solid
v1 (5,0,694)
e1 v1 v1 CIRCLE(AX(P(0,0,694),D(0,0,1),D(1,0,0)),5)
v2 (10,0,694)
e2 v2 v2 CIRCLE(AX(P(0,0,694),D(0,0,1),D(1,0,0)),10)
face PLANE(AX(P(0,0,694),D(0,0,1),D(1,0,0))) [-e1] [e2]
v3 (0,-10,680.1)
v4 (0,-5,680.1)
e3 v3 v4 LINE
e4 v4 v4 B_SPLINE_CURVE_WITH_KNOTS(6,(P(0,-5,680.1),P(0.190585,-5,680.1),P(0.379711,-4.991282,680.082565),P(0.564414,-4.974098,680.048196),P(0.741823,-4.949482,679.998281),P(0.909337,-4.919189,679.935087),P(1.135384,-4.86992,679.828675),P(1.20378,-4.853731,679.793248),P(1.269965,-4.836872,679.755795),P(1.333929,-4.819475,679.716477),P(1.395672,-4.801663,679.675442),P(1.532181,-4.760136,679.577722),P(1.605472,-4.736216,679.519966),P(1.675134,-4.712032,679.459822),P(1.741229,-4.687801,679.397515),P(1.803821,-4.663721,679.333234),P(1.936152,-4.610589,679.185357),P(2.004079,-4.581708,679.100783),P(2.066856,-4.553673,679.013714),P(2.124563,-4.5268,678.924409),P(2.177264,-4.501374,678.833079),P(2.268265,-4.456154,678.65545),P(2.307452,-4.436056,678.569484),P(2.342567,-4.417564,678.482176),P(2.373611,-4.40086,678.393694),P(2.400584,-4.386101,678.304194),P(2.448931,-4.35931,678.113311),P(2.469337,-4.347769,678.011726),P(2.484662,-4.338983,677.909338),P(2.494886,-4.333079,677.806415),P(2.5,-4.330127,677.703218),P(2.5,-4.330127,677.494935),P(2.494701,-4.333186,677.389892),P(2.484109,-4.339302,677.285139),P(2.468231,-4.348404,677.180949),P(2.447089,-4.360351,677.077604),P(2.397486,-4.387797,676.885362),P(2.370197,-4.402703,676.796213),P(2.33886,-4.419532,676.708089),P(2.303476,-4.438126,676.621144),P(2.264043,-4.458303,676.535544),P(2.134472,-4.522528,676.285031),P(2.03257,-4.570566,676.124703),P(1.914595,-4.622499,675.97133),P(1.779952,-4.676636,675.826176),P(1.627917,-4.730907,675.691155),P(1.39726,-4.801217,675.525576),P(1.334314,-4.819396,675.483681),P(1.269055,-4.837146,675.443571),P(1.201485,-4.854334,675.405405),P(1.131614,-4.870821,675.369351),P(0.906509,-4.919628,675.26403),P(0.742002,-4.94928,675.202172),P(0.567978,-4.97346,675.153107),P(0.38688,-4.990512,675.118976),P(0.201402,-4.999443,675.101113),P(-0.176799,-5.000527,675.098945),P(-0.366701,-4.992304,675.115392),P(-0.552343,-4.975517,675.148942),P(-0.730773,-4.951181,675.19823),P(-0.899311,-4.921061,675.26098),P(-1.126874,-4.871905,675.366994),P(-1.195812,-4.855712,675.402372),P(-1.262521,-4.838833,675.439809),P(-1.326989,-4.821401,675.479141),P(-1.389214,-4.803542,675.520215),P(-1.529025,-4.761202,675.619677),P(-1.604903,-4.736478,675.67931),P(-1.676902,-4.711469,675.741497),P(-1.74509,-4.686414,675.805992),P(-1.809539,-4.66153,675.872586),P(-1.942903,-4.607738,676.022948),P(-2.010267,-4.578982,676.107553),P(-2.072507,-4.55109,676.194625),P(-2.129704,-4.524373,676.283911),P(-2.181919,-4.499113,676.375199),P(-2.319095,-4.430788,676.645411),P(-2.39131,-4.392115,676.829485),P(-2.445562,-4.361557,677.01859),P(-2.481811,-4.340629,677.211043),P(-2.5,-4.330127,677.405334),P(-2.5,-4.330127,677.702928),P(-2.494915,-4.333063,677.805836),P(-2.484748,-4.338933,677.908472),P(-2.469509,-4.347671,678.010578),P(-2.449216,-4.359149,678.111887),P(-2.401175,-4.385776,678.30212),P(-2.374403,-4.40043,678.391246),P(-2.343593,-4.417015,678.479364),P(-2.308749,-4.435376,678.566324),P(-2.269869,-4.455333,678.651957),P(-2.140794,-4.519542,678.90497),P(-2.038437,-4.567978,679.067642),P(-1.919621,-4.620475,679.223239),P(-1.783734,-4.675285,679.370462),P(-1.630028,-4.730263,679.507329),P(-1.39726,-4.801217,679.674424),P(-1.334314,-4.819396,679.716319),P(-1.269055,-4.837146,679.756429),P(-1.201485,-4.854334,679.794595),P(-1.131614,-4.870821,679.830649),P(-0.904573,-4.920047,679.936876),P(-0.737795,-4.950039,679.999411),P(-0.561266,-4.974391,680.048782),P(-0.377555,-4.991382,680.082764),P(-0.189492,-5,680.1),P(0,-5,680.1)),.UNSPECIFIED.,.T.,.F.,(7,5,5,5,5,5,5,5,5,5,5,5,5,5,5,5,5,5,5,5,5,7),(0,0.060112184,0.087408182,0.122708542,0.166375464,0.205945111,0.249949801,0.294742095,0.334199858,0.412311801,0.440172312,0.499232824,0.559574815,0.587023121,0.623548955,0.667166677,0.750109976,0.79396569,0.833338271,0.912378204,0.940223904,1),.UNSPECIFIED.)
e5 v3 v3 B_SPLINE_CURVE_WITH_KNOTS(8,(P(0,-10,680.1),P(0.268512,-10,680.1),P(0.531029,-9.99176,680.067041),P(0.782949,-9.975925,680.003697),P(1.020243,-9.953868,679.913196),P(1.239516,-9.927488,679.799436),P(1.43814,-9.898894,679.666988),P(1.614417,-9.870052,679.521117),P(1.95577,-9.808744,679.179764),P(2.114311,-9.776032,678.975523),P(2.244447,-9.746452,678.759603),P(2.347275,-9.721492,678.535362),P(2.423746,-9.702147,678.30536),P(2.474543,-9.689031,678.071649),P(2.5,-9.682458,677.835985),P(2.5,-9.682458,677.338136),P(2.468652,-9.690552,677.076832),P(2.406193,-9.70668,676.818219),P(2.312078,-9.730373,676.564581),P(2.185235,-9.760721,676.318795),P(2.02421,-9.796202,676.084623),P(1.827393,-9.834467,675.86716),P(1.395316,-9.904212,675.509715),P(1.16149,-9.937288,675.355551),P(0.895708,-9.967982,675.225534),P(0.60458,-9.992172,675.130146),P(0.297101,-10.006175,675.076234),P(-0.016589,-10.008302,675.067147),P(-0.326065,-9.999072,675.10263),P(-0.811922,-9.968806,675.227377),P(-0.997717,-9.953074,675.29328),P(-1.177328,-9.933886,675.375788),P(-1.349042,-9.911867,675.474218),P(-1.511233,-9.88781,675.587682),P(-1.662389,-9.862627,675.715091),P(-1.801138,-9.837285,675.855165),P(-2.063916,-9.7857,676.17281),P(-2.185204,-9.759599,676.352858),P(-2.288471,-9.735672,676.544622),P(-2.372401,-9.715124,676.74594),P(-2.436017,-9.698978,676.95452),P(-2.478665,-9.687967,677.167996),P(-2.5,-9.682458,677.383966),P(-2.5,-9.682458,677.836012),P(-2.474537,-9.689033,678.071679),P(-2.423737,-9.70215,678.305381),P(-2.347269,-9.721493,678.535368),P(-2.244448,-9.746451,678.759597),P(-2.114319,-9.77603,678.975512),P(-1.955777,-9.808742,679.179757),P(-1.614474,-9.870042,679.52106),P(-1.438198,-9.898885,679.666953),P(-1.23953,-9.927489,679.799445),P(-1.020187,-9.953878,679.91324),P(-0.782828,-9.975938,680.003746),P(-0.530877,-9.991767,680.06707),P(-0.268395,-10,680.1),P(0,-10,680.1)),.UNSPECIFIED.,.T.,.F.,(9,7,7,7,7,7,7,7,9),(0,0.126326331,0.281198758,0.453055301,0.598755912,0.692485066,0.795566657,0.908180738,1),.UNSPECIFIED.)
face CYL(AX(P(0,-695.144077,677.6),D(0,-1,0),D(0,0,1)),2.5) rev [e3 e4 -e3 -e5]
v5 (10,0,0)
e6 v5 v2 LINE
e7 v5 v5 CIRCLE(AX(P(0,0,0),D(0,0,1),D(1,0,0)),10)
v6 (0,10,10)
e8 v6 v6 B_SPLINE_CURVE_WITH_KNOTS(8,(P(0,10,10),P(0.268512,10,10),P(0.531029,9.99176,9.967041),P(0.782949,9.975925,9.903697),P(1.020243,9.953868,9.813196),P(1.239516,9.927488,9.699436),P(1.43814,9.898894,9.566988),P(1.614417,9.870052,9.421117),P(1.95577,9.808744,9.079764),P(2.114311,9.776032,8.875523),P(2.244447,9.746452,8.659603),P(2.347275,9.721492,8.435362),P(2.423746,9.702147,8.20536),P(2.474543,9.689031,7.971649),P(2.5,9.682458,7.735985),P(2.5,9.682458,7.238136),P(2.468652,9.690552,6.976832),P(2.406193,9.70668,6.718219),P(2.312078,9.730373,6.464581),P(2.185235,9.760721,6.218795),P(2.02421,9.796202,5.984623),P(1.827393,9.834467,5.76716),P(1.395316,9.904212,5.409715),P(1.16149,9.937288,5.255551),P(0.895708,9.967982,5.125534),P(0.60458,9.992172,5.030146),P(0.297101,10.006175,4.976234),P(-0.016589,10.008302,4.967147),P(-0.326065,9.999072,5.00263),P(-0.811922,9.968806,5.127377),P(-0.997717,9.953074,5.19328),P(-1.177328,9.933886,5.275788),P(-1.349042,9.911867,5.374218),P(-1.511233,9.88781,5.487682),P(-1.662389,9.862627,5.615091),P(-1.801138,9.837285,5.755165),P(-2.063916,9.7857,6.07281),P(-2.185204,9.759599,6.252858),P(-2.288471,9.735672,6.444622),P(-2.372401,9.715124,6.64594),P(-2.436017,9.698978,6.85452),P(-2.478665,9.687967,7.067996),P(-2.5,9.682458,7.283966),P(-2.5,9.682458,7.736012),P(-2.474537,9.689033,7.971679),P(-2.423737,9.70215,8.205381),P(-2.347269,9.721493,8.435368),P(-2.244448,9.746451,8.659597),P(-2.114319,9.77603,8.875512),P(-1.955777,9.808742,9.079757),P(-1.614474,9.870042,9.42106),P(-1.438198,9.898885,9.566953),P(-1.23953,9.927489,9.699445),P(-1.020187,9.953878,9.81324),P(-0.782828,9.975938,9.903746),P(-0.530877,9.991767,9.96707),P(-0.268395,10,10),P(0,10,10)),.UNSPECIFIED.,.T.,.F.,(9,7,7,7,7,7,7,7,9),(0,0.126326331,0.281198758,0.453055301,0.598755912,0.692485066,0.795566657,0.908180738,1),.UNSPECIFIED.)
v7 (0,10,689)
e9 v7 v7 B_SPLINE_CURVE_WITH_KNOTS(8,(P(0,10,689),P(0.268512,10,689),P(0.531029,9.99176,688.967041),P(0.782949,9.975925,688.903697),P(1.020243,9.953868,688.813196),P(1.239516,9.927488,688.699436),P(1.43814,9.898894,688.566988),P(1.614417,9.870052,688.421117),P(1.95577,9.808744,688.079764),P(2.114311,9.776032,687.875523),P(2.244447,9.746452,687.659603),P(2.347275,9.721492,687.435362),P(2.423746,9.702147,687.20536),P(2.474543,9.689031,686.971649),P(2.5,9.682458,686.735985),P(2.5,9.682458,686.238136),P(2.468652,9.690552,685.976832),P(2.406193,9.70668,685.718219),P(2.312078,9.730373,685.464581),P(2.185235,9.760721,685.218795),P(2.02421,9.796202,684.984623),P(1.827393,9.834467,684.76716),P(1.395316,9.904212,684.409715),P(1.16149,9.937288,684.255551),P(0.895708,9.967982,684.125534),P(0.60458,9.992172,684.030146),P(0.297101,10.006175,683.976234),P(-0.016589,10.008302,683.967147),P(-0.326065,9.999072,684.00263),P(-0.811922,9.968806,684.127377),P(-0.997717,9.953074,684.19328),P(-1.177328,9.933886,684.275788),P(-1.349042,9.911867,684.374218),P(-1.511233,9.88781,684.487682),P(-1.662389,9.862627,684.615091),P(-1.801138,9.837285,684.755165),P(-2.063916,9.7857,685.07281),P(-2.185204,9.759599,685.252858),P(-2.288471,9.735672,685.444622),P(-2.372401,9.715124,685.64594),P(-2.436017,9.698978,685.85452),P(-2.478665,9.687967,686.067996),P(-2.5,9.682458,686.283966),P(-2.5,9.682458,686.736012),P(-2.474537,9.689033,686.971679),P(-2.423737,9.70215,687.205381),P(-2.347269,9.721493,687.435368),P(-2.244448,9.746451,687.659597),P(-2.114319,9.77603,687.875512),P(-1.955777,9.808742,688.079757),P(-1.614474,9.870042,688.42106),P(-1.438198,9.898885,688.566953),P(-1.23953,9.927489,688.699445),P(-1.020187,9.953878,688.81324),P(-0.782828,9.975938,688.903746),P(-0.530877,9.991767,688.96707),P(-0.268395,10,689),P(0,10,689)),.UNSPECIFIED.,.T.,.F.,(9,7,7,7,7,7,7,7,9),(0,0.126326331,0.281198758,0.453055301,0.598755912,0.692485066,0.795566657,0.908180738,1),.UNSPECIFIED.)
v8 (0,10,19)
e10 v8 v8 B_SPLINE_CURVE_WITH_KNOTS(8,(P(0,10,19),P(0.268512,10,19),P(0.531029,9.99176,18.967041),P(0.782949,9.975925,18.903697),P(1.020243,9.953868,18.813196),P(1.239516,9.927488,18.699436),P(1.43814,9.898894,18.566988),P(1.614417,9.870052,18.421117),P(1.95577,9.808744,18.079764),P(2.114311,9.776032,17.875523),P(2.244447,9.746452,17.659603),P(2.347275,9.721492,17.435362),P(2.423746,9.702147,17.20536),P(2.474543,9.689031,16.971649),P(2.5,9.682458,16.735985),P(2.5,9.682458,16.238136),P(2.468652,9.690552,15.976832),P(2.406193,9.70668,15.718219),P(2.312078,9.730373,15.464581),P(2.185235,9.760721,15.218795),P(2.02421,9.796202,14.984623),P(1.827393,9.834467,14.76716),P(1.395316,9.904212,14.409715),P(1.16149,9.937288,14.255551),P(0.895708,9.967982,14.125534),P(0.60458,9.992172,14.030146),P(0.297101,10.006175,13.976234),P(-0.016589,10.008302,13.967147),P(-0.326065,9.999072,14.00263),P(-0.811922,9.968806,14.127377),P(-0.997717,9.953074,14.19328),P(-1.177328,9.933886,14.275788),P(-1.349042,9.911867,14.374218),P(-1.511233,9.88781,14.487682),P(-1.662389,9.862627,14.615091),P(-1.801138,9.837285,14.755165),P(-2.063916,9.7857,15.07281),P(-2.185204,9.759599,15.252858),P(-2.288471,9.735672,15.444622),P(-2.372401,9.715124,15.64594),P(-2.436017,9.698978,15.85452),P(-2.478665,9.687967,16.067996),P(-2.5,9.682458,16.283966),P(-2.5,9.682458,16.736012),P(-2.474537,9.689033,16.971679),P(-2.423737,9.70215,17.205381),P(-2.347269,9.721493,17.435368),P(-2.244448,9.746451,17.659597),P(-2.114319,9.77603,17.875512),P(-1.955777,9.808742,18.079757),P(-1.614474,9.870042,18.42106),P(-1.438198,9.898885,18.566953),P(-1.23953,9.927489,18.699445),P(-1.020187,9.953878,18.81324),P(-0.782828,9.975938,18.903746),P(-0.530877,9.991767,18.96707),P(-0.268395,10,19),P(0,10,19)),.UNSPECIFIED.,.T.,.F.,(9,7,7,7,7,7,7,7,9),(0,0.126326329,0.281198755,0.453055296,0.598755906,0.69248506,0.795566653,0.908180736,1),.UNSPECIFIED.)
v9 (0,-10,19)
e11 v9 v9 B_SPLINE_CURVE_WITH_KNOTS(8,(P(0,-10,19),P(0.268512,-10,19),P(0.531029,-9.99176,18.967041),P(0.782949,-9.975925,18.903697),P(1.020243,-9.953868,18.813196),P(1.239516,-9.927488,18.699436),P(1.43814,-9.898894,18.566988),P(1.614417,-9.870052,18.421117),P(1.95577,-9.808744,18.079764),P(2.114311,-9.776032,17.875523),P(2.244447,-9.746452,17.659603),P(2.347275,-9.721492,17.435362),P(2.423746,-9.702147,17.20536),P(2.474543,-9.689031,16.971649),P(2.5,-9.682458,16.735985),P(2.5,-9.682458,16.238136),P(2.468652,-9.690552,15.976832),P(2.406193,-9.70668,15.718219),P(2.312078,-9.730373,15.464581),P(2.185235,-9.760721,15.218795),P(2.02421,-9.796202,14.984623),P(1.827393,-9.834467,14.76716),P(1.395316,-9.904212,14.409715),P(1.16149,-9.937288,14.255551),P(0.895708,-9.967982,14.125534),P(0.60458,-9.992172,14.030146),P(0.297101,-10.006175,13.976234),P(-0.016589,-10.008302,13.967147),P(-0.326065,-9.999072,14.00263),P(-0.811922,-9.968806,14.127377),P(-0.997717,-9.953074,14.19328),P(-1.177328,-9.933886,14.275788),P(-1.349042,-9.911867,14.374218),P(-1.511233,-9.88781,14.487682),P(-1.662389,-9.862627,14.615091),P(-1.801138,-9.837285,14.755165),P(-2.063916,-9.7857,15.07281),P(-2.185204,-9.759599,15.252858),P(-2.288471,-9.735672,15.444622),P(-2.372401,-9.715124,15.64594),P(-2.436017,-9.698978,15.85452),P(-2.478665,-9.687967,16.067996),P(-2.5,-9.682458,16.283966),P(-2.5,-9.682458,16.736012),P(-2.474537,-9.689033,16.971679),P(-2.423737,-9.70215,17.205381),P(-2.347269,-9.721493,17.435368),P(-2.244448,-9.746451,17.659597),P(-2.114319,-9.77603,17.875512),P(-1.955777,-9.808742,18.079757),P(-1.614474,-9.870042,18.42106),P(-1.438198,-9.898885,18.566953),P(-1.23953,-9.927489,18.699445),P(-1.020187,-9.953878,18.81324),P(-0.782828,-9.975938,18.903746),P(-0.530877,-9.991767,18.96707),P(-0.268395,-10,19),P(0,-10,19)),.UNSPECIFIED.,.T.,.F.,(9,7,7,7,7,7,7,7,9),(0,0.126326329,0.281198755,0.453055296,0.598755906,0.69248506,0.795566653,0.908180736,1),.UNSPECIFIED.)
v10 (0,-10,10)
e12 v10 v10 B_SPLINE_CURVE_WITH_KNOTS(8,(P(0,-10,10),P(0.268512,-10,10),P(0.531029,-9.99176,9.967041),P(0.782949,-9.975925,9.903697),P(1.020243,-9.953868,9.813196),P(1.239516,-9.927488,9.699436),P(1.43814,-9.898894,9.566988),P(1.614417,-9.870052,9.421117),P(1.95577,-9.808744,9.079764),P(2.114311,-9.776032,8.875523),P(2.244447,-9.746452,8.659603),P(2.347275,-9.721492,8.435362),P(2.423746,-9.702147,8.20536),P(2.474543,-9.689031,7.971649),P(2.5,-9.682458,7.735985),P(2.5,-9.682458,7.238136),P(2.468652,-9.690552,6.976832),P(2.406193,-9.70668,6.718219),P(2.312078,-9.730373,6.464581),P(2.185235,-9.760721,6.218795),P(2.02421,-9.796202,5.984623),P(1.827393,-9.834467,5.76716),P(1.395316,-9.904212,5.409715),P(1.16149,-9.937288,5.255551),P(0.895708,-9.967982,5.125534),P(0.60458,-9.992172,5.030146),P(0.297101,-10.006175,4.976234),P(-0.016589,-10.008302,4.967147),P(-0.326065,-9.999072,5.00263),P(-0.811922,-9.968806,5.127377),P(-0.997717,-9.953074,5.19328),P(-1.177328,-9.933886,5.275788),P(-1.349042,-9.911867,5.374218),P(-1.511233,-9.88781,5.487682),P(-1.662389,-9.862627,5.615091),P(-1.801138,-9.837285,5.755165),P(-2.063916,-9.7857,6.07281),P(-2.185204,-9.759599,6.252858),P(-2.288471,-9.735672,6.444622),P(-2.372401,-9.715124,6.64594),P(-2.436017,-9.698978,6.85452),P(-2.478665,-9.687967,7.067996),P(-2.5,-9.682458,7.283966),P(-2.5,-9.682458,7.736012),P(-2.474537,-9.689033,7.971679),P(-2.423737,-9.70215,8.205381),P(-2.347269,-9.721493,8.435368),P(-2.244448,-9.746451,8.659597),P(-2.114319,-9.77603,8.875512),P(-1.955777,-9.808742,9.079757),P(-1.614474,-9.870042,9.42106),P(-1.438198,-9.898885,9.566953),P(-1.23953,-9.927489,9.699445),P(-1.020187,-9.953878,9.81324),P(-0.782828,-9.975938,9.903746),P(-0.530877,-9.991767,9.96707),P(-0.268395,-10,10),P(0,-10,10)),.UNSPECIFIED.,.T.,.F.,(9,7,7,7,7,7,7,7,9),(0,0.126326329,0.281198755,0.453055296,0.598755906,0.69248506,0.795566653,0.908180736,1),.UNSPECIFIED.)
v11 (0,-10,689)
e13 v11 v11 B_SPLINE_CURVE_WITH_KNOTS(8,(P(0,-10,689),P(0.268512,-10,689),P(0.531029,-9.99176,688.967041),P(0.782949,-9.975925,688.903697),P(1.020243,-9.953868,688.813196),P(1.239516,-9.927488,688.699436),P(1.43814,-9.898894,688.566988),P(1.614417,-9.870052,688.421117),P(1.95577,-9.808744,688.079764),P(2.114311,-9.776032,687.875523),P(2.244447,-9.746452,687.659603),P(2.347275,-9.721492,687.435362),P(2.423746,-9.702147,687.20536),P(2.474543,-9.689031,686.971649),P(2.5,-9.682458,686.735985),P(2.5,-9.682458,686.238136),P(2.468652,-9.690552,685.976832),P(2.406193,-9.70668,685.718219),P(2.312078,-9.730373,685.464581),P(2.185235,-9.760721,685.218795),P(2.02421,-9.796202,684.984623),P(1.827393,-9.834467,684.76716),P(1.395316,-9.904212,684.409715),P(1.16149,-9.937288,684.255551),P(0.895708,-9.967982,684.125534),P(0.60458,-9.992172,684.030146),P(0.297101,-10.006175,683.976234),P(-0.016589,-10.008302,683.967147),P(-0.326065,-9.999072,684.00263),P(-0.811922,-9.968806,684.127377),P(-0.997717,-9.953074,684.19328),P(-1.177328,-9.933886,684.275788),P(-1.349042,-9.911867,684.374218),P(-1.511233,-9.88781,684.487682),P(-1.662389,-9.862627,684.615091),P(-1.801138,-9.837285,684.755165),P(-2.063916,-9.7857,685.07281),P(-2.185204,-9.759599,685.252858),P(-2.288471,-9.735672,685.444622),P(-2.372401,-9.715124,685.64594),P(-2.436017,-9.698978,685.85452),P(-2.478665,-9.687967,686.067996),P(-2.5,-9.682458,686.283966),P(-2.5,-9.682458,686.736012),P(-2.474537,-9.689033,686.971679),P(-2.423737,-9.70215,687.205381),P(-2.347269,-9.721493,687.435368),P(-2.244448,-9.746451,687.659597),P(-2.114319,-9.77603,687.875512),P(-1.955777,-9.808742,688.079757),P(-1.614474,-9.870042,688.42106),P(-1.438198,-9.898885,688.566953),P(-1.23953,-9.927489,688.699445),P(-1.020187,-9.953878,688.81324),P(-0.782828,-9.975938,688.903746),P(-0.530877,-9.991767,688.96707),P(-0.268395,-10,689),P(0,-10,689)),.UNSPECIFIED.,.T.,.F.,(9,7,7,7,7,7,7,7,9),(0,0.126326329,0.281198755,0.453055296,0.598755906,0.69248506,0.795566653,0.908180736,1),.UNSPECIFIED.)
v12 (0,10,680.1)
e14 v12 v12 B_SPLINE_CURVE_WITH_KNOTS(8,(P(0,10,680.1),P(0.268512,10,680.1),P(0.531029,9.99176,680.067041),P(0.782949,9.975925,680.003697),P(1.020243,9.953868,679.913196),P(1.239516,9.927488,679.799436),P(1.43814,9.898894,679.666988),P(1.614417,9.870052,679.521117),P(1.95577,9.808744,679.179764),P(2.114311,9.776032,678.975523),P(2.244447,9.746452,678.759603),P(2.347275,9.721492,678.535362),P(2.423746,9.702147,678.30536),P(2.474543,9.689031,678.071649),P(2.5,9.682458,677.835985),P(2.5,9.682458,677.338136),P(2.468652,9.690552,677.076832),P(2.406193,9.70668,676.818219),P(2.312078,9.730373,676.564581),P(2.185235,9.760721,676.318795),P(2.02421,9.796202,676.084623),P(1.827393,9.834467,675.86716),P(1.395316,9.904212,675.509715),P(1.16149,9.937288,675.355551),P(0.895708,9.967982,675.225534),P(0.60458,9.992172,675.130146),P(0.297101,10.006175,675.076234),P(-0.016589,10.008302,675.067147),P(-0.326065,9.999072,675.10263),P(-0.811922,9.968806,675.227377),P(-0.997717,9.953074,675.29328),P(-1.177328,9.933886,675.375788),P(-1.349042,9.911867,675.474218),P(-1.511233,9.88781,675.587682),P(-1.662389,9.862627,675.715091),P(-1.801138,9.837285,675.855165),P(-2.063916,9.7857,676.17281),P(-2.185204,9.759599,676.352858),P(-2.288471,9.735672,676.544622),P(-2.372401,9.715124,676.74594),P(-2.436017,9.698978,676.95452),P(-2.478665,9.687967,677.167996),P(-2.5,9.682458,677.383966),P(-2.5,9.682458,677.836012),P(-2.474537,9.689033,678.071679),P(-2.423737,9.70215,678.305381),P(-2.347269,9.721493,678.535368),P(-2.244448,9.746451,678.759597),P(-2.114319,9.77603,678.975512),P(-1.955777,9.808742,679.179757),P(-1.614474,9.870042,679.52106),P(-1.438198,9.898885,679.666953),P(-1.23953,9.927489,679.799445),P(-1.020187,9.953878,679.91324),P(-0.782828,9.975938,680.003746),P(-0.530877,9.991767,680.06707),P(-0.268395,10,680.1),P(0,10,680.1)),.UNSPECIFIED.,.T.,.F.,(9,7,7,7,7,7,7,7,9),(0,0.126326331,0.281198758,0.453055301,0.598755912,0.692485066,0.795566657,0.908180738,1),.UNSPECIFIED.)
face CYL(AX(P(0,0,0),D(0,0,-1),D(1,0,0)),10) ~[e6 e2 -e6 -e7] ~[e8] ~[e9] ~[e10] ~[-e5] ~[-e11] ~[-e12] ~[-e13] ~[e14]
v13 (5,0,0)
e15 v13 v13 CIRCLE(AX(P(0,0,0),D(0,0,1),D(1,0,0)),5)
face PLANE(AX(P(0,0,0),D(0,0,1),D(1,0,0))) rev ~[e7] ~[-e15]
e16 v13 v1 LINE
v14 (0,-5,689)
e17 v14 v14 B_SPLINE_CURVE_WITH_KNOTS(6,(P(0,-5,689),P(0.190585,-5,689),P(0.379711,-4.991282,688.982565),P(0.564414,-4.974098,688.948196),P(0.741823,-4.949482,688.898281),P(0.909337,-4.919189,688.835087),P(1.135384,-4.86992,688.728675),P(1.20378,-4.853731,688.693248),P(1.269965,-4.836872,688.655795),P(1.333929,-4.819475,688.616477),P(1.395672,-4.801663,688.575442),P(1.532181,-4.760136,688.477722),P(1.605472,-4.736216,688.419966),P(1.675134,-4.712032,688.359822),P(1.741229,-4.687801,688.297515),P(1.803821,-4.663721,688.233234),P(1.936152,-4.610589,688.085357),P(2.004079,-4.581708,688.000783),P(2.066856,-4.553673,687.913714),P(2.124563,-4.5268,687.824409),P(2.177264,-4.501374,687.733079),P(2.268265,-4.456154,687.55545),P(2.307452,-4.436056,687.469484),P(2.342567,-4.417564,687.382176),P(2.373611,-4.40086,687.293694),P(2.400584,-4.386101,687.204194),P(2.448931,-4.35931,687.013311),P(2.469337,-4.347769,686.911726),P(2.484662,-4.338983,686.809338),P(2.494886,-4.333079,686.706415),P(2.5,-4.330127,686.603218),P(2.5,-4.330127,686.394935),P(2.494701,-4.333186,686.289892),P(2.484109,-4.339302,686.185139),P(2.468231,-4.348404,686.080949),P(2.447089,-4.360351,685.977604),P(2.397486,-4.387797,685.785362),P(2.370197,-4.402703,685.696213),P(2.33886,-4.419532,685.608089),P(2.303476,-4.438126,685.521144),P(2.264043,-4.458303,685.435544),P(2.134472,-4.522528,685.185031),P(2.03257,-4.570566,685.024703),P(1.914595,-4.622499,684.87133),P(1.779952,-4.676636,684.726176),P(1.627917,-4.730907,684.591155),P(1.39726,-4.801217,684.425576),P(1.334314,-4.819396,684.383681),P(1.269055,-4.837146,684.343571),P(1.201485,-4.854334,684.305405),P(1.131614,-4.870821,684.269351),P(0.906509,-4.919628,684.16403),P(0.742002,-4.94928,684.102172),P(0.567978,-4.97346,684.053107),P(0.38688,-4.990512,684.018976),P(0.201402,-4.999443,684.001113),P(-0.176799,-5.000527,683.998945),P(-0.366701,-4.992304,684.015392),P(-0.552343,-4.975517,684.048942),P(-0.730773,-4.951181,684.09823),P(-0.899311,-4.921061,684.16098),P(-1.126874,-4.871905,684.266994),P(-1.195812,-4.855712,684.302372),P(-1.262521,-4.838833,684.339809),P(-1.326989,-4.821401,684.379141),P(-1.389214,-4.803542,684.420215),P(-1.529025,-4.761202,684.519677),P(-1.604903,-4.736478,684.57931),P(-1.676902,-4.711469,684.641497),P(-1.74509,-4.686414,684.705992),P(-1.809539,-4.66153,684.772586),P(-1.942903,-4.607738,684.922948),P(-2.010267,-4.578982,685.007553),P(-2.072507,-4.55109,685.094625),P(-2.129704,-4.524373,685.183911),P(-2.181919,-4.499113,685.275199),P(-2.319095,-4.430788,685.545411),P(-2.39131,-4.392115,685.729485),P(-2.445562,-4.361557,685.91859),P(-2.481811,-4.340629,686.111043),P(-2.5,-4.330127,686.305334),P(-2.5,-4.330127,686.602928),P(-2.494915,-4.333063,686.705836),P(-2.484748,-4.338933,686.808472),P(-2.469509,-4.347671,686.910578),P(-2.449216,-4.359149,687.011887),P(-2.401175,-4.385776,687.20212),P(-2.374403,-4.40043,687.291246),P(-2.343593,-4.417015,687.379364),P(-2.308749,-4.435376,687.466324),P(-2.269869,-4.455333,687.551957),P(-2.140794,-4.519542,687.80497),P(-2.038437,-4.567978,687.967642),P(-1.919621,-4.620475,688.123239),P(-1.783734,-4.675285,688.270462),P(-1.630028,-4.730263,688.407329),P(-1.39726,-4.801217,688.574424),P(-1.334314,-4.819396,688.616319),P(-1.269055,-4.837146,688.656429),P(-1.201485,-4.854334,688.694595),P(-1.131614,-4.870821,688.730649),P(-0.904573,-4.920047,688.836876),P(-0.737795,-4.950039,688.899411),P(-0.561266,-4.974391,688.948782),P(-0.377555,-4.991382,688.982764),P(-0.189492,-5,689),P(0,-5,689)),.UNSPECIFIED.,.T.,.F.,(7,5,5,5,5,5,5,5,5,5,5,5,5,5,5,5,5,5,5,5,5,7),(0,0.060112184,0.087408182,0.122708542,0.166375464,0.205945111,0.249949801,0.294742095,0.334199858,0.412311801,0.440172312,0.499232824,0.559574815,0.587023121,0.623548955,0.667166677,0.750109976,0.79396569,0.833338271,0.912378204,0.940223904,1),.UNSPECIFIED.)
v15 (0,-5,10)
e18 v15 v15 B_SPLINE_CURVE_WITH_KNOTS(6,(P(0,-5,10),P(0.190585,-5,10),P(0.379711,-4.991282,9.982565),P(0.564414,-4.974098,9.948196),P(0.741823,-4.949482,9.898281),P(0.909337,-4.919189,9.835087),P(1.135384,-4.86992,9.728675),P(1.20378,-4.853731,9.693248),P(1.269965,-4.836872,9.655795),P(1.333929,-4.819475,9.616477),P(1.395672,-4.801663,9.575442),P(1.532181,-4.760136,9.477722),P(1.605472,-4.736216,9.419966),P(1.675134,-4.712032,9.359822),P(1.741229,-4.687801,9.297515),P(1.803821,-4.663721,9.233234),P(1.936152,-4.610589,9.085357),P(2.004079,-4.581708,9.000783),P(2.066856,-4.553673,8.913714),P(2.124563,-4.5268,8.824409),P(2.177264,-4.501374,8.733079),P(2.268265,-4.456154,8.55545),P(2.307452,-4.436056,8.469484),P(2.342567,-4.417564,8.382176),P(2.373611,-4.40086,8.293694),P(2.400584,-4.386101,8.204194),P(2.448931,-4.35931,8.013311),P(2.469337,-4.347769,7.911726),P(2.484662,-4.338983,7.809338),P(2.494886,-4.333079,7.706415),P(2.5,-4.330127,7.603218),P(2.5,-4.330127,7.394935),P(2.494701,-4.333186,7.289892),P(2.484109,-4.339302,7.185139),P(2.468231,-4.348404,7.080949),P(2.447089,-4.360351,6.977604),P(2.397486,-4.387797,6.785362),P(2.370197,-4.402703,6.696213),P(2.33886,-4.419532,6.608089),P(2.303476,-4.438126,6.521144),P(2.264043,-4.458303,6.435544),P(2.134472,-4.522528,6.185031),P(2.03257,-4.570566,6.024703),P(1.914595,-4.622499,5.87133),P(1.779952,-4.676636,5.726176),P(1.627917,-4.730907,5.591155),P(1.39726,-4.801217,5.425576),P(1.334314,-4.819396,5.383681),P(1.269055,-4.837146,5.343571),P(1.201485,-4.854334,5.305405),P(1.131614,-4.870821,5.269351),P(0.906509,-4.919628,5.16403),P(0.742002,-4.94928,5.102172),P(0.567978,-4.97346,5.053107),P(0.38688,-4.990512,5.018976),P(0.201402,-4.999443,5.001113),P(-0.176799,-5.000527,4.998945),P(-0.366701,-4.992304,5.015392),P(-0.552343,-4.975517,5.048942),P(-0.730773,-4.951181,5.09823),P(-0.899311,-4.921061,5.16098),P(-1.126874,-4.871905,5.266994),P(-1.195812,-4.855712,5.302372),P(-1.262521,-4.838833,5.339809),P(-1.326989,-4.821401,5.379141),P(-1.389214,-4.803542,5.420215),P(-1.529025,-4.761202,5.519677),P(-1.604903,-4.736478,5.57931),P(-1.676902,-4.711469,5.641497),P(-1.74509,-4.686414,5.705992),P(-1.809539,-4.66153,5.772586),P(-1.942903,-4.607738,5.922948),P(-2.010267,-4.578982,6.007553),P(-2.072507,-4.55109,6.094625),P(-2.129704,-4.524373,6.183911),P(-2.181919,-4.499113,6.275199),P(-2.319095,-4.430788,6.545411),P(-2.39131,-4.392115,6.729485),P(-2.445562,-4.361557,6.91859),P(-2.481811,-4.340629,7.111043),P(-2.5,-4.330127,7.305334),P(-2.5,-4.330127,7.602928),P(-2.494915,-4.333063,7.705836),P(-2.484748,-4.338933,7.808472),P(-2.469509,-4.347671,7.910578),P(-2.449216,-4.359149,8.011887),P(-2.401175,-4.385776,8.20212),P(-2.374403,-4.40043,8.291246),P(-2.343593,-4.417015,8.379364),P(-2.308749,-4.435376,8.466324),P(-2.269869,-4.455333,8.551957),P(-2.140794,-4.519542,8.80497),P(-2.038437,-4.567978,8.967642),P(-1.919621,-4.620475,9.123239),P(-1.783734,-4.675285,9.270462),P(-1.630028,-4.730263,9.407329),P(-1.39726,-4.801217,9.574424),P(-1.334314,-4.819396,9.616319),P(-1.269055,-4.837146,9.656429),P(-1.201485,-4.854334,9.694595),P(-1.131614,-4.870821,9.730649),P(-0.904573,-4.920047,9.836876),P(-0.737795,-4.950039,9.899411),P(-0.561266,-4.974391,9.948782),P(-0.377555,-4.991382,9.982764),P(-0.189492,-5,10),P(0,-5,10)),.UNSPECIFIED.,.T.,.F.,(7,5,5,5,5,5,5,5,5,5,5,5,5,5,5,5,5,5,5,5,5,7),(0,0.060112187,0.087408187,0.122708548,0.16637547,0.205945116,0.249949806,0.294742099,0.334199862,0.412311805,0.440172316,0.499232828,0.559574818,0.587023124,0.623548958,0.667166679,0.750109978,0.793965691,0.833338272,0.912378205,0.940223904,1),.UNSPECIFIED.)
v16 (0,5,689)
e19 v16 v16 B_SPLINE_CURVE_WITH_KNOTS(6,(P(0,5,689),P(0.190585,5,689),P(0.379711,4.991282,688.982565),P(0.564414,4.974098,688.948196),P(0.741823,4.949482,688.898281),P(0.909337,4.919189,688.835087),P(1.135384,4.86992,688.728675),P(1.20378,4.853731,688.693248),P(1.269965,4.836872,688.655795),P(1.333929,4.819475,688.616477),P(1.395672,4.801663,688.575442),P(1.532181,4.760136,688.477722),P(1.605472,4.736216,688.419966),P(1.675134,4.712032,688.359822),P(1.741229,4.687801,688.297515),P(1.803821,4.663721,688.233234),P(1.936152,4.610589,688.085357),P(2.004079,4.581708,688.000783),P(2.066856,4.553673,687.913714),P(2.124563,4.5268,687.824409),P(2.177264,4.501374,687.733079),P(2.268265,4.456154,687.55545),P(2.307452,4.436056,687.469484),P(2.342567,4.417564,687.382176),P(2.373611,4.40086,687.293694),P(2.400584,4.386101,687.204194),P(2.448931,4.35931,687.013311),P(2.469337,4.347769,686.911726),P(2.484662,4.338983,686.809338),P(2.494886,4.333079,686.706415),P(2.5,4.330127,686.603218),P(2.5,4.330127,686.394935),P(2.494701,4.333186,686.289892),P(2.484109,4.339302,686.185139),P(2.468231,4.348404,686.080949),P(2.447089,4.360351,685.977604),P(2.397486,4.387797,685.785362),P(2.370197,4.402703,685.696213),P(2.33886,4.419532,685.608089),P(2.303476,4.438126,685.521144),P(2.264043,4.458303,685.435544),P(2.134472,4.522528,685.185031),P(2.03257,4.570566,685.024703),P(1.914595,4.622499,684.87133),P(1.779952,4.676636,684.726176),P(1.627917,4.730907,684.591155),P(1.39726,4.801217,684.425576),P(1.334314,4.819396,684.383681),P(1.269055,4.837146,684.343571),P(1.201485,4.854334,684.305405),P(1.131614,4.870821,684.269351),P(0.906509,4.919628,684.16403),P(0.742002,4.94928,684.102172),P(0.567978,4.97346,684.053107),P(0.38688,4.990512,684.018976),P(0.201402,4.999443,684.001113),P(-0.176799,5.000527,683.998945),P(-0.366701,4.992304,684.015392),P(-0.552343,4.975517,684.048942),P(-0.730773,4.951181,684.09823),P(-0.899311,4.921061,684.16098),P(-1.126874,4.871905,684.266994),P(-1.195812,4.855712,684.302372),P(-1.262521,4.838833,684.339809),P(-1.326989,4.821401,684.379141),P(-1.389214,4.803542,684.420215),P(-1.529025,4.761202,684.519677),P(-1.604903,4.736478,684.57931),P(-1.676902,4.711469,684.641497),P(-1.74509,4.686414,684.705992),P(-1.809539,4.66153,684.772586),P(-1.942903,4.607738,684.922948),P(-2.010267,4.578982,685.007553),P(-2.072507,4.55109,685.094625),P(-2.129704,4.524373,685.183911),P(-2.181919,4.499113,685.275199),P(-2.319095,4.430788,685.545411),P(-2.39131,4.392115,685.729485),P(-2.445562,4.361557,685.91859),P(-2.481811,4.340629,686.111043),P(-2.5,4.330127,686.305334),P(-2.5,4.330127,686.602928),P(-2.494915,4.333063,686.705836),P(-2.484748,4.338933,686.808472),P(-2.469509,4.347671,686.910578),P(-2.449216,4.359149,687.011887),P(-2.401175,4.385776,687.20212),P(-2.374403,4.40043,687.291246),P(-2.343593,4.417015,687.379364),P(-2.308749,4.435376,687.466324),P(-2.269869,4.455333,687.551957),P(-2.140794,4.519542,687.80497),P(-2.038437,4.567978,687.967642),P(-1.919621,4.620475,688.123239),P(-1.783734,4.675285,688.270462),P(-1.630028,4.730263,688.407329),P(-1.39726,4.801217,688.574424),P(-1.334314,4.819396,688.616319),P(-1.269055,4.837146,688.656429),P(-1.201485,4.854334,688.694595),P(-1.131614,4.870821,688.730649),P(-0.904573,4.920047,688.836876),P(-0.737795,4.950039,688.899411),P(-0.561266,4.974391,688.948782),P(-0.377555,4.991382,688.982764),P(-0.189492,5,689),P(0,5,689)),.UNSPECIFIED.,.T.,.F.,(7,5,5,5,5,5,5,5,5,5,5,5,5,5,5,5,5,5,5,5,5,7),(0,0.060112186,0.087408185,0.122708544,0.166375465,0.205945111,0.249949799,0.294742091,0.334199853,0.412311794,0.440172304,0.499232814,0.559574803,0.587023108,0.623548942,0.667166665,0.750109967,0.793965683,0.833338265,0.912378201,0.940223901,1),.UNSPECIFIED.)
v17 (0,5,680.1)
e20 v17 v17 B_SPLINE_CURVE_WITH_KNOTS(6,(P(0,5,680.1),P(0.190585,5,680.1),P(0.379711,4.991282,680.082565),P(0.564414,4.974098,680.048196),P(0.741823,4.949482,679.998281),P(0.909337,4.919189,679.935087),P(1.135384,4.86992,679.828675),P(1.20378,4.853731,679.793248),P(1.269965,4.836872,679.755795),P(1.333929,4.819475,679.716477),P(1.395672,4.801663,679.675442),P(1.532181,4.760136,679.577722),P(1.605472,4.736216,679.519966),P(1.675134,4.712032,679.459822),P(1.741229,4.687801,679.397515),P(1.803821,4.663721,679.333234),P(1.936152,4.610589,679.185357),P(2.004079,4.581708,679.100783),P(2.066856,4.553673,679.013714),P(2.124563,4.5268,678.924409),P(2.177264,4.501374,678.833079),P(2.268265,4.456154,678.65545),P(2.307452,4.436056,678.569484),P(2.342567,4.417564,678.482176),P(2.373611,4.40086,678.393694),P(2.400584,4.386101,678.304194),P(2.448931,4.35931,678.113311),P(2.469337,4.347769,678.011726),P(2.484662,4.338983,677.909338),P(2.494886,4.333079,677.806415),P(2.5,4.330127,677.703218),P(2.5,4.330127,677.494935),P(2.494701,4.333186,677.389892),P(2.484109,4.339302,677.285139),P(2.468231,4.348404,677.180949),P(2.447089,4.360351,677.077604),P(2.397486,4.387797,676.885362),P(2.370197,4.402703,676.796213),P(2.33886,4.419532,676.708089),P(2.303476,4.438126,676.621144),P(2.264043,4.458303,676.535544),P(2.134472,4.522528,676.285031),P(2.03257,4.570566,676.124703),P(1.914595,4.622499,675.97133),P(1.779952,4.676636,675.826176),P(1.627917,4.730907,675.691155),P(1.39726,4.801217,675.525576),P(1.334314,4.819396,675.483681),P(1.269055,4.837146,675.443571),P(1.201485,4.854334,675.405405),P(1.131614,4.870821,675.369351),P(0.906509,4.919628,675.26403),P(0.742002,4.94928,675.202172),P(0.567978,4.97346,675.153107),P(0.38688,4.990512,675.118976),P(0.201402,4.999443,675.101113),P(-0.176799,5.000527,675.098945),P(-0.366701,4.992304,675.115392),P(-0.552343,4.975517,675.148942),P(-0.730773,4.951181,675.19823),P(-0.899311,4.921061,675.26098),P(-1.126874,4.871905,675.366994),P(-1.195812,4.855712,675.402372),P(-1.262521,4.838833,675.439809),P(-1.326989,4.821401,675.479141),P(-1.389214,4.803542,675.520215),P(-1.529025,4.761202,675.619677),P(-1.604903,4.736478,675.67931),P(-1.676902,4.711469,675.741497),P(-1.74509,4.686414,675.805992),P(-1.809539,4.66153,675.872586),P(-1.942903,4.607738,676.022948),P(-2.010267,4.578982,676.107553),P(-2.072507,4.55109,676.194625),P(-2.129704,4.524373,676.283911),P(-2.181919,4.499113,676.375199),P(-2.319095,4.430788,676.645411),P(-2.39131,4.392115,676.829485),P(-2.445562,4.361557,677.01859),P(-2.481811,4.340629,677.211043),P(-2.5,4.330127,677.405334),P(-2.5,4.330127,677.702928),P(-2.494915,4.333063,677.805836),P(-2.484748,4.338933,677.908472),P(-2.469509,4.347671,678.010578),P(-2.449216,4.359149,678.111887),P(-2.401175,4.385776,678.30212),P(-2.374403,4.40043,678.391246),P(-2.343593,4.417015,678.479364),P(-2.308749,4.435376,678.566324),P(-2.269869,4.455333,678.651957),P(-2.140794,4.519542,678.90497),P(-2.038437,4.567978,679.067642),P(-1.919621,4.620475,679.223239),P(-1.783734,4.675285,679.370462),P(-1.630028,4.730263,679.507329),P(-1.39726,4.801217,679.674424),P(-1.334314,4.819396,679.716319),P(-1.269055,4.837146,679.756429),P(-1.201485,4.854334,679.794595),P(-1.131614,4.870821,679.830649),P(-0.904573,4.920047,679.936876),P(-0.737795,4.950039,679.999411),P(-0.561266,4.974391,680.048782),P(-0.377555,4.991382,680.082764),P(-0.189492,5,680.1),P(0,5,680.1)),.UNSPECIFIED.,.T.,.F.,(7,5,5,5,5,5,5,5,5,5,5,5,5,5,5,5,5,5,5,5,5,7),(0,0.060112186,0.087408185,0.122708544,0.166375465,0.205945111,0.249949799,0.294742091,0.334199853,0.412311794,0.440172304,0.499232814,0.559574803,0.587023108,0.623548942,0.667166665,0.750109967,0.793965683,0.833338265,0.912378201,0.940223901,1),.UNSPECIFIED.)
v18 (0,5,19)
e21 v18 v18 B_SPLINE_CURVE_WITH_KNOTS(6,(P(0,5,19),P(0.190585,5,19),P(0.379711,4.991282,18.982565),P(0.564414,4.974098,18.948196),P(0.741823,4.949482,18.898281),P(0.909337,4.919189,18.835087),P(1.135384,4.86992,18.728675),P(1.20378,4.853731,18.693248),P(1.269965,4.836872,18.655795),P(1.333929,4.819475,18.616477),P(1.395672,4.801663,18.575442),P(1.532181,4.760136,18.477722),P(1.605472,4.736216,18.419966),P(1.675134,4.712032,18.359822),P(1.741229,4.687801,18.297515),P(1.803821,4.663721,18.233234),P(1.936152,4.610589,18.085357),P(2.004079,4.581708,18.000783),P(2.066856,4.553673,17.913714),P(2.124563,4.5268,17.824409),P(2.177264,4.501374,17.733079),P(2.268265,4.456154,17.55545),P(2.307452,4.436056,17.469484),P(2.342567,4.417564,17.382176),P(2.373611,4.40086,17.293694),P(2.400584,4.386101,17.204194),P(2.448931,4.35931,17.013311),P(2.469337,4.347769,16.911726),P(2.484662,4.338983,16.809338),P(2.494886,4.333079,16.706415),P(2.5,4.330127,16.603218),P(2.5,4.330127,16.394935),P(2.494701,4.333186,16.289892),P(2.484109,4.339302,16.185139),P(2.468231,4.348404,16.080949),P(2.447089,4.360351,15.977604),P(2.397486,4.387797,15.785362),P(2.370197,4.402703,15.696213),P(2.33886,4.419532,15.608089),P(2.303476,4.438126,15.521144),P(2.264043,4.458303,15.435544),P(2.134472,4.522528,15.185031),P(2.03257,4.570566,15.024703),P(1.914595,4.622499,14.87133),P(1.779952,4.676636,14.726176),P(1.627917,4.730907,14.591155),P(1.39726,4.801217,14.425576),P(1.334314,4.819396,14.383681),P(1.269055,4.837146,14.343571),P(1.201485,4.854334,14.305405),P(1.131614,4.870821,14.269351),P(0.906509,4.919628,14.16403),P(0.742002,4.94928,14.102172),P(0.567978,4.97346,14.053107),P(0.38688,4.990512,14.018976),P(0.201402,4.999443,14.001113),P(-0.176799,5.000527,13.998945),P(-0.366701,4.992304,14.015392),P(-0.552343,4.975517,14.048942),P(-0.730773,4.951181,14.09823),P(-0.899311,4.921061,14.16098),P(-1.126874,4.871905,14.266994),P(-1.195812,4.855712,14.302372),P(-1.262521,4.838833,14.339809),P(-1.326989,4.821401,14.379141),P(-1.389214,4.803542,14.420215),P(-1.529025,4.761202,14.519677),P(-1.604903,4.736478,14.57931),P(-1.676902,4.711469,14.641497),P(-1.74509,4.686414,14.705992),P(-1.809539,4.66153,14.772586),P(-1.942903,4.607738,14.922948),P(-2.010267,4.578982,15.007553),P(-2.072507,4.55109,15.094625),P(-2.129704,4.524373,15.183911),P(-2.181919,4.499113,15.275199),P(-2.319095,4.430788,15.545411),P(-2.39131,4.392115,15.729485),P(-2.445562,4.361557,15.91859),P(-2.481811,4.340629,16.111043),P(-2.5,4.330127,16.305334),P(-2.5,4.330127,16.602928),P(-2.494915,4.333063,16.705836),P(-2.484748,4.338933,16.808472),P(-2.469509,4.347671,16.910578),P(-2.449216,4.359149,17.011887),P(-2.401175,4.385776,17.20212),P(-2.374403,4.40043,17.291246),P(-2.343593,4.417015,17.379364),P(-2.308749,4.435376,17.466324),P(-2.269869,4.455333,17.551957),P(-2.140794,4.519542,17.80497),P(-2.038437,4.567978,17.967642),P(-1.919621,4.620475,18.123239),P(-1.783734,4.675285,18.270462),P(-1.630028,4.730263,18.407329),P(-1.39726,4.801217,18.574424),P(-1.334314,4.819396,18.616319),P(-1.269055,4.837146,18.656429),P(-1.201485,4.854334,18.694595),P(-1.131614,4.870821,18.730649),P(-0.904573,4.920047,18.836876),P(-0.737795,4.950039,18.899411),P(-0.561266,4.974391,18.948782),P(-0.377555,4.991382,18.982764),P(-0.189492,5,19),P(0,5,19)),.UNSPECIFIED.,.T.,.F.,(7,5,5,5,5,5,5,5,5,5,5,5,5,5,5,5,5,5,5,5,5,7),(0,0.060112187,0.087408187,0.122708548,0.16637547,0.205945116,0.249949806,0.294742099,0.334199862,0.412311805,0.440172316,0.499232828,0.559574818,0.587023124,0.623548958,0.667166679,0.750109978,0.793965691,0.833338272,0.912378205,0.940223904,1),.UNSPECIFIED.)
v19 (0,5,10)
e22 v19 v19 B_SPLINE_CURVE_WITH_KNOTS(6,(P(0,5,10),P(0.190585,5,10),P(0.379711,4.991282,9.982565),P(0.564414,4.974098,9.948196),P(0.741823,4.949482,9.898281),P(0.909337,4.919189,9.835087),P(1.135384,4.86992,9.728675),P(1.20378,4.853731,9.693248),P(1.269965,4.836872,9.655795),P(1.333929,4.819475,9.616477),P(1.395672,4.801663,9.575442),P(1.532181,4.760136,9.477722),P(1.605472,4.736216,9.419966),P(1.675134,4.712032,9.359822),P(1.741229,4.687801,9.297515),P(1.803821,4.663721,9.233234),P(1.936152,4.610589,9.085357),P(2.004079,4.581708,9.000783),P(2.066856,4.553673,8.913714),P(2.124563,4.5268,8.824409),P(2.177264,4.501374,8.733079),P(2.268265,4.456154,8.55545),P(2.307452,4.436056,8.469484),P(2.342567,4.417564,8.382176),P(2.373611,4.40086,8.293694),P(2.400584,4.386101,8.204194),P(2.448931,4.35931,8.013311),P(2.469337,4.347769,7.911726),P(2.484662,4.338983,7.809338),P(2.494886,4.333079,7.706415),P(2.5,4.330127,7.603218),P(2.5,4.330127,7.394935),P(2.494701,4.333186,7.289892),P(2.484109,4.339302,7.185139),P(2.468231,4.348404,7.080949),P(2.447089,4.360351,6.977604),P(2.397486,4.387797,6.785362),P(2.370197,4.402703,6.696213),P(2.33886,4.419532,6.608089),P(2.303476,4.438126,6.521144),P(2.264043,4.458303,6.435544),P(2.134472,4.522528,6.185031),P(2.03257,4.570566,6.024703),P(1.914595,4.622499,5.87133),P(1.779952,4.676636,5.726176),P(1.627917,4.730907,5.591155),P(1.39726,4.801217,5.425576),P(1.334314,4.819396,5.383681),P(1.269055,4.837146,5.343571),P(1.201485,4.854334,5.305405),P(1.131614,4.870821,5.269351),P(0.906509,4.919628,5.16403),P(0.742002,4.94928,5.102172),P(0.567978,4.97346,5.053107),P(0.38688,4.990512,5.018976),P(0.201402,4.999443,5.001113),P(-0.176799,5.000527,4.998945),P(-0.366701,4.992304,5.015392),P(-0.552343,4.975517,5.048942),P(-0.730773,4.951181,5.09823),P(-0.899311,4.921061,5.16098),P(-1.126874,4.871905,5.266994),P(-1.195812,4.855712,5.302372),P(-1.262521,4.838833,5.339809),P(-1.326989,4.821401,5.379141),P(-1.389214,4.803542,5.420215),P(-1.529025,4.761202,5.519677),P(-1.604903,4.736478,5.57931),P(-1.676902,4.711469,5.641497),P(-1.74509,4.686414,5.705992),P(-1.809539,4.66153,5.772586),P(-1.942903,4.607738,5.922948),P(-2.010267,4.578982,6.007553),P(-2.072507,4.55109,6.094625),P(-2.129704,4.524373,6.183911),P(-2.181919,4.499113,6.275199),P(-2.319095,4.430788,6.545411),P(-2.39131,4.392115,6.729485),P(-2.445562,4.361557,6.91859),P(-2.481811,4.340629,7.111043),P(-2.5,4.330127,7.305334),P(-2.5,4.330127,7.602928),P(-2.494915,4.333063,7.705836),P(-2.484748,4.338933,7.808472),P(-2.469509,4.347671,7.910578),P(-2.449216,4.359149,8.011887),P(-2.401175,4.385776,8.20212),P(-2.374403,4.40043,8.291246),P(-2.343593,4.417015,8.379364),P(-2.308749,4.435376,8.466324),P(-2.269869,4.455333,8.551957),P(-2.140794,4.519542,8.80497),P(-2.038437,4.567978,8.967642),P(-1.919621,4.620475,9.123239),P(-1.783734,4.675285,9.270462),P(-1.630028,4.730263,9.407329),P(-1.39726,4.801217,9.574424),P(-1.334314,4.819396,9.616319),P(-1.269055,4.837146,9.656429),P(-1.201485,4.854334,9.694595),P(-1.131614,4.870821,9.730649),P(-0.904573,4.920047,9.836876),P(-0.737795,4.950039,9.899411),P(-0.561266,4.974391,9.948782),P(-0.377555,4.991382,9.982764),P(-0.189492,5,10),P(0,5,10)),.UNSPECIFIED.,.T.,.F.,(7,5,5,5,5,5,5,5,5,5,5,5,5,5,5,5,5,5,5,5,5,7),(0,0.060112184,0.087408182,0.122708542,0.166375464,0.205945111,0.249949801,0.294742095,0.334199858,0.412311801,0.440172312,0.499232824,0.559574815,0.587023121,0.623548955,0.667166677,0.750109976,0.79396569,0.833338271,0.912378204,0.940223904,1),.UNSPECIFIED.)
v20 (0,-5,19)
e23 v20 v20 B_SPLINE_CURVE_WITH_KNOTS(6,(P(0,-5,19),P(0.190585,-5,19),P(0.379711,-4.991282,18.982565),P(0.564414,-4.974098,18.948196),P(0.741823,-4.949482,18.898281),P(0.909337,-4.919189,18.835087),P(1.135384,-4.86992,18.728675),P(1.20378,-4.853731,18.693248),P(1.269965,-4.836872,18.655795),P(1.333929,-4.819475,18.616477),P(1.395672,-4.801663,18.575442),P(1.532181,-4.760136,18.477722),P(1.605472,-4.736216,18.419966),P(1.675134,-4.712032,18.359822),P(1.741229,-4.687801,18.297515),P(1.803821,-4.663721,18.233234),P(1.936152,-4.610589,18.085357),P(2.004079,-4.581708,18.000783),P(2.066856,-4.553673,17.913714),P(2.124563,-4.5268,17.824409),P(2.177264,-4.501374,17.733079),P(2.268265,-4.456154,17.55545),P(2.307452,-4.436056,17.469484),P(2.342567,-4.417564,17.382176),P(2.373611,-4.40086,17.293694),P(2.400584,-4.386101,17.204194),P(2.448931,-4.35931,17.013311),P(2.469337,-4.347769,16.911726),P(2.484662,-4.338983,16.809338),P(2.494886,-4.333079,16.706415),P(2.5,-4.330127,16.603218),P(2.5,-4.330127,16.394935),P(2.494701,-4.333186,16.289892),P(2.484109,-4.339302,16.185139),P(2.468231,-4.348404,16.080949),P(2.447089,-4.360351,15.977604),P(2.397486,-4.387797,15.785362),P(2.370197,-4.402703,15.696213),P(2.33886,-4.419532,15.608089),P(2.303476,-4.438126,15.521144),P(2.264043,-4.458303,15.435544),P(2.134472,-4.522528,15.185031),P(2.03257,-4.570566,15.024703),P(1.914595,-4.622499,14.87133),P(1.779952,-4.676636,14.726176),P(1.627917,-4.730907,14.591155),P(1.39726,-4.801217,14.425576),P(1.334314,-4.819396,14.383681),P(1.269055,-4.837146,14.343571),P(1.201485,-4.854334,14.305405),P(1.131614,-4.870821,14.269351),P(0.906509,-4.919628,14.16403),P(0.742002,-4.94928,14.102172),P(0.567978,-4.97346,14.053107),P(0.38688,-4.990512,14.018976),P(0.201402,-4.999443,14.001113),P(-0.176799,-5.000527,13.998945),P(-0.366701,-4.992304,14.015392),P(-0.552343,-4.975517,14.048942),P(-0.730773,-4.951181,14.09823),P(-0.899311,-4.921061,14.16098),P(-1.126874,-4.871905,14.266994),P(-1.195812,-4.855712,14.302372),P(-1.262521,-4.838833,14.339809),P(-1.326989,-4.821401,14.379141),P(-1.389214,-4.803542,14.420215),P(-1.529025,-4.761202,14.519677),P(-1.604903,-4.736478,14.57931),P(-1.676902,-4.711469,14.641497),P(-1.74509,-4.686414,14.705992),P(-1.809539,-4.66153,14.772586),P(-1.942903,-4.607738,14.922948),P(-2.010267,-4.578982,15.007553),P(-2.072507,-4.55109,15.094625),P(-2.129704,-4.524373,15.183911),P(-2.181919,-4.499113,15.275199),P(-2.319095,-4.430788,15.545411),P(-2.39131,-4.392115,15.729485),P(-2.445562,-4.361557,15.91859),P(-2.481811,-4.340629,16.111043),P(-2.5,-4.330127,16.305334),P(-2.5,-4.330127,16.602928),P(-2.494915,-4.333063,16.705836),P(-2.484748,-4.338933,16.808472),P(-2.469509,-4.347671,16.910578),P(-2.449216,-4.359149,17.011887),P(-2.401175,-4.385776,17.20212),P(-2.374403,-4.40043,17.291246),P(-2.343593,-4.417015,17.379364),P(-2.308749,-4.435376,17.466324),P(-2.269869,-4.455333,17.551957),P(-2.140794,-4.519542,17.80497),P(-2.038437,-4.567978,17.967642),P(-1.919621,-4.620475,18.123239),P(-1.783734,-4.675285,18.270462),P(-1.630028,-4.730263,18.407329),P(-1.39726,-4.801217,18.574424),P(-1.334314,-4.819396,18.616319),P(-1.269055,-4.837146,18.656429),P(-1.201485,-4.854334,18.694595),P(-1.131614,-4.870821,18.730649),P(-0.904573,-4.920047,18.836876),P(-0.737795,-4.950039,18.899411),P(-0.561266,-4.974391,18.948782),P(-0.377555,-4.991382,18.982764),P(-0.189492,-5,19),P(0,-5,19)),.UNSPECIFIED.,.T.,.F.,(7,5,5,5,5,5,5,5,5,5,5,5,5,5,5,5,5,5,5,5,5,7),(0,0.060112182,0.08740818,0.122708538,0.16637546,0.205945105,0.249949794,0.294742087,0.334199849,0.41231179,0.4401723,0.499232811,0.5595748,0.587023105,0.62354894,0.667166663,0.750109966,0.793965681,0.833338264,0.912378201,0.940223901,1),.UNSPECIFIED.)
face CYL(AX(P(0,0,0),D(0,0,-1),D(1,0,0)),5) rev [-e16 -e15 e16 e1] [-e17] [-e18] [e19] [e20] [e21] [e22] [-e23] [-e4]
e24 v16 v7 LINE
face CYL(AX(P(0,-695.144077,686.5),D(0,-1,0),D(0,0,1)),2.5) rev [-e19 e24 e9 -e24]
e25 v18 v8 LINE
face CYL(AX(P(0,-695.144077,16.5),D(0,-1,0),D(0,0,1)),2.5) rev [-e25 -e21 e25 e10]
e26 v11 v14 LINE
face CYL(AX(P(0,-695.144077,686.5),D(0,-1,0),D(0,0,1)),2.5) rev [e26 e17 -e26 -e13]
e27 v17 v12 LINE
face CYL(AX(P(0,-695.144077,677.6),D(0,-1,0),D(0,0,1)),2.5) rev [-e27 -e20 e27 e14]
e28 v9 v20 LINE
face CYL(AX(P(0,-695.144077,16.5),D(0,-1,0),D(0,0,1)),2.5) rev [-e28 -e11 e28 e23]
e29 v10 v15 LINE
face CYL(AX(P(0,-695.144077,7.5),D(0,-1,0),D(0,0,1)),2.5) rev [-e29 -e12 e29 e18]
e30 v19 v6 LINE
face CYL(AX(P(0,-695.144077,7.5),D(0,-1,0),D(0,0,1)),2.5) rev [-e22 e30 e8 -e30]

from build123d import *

# Parameters (mm, degrees)
SKETCH_1_R               = 10
SKETCH_1_R_2             = 5
EXTRUDE_1_DEPTH          = 694
CUT_EXTRUDE_1_DEPTH      = 695.144077264
CUT_EXTRUDE_1_DEPTH_BACK = 695.144077264
SKETCH_2_R               = 2.5


with BuildPart() as part:
    # 草图1 → 凸台-拉伸1 (new body)
    with BuildSketch(Plane.XY):
        Circle(SKETCH_1_R)
        Circle(SKETCH_1_R_2, mode=Mode.SUBTRACT)
    extrude(amount=EXTRUDE_1_DEPTH)

    # 草图2 → 切除-拉伸1 (cut, two sides: drawn at the far end of the back side and taken through both)
    with BuildSketch(Plane(origin=(0, 0, 0), x_dir=(1, 0, 0), z_dir=(0, 1, 0)).offset(-CUT_EXTRUDE_1_DEPTH_BACK)):
        with Locations(Location((0, -7.5, 0), (0, 0, 270))):
            Circle(SKETCH_2_R)
        with Locations(Location((0, -16.5, 0), (0, 0, 270))):
            Circle(SKETCH_2_R)
        with Locations(Location((0, -677.6, 0), (0, 0, 270))):
            Circle(SKETCH_2_R)
        with Locations(Location((0, -686.5, 0), (0, 0, 270))):
            Circle(SKETCH_2_R)
    extrude(amount=CUT_EXTRUDE_1_DEPTH + CUT_EXTRUDE_1_DEPTH_BACK, mode=Mode.SUBTRACT)


solid = part.part
